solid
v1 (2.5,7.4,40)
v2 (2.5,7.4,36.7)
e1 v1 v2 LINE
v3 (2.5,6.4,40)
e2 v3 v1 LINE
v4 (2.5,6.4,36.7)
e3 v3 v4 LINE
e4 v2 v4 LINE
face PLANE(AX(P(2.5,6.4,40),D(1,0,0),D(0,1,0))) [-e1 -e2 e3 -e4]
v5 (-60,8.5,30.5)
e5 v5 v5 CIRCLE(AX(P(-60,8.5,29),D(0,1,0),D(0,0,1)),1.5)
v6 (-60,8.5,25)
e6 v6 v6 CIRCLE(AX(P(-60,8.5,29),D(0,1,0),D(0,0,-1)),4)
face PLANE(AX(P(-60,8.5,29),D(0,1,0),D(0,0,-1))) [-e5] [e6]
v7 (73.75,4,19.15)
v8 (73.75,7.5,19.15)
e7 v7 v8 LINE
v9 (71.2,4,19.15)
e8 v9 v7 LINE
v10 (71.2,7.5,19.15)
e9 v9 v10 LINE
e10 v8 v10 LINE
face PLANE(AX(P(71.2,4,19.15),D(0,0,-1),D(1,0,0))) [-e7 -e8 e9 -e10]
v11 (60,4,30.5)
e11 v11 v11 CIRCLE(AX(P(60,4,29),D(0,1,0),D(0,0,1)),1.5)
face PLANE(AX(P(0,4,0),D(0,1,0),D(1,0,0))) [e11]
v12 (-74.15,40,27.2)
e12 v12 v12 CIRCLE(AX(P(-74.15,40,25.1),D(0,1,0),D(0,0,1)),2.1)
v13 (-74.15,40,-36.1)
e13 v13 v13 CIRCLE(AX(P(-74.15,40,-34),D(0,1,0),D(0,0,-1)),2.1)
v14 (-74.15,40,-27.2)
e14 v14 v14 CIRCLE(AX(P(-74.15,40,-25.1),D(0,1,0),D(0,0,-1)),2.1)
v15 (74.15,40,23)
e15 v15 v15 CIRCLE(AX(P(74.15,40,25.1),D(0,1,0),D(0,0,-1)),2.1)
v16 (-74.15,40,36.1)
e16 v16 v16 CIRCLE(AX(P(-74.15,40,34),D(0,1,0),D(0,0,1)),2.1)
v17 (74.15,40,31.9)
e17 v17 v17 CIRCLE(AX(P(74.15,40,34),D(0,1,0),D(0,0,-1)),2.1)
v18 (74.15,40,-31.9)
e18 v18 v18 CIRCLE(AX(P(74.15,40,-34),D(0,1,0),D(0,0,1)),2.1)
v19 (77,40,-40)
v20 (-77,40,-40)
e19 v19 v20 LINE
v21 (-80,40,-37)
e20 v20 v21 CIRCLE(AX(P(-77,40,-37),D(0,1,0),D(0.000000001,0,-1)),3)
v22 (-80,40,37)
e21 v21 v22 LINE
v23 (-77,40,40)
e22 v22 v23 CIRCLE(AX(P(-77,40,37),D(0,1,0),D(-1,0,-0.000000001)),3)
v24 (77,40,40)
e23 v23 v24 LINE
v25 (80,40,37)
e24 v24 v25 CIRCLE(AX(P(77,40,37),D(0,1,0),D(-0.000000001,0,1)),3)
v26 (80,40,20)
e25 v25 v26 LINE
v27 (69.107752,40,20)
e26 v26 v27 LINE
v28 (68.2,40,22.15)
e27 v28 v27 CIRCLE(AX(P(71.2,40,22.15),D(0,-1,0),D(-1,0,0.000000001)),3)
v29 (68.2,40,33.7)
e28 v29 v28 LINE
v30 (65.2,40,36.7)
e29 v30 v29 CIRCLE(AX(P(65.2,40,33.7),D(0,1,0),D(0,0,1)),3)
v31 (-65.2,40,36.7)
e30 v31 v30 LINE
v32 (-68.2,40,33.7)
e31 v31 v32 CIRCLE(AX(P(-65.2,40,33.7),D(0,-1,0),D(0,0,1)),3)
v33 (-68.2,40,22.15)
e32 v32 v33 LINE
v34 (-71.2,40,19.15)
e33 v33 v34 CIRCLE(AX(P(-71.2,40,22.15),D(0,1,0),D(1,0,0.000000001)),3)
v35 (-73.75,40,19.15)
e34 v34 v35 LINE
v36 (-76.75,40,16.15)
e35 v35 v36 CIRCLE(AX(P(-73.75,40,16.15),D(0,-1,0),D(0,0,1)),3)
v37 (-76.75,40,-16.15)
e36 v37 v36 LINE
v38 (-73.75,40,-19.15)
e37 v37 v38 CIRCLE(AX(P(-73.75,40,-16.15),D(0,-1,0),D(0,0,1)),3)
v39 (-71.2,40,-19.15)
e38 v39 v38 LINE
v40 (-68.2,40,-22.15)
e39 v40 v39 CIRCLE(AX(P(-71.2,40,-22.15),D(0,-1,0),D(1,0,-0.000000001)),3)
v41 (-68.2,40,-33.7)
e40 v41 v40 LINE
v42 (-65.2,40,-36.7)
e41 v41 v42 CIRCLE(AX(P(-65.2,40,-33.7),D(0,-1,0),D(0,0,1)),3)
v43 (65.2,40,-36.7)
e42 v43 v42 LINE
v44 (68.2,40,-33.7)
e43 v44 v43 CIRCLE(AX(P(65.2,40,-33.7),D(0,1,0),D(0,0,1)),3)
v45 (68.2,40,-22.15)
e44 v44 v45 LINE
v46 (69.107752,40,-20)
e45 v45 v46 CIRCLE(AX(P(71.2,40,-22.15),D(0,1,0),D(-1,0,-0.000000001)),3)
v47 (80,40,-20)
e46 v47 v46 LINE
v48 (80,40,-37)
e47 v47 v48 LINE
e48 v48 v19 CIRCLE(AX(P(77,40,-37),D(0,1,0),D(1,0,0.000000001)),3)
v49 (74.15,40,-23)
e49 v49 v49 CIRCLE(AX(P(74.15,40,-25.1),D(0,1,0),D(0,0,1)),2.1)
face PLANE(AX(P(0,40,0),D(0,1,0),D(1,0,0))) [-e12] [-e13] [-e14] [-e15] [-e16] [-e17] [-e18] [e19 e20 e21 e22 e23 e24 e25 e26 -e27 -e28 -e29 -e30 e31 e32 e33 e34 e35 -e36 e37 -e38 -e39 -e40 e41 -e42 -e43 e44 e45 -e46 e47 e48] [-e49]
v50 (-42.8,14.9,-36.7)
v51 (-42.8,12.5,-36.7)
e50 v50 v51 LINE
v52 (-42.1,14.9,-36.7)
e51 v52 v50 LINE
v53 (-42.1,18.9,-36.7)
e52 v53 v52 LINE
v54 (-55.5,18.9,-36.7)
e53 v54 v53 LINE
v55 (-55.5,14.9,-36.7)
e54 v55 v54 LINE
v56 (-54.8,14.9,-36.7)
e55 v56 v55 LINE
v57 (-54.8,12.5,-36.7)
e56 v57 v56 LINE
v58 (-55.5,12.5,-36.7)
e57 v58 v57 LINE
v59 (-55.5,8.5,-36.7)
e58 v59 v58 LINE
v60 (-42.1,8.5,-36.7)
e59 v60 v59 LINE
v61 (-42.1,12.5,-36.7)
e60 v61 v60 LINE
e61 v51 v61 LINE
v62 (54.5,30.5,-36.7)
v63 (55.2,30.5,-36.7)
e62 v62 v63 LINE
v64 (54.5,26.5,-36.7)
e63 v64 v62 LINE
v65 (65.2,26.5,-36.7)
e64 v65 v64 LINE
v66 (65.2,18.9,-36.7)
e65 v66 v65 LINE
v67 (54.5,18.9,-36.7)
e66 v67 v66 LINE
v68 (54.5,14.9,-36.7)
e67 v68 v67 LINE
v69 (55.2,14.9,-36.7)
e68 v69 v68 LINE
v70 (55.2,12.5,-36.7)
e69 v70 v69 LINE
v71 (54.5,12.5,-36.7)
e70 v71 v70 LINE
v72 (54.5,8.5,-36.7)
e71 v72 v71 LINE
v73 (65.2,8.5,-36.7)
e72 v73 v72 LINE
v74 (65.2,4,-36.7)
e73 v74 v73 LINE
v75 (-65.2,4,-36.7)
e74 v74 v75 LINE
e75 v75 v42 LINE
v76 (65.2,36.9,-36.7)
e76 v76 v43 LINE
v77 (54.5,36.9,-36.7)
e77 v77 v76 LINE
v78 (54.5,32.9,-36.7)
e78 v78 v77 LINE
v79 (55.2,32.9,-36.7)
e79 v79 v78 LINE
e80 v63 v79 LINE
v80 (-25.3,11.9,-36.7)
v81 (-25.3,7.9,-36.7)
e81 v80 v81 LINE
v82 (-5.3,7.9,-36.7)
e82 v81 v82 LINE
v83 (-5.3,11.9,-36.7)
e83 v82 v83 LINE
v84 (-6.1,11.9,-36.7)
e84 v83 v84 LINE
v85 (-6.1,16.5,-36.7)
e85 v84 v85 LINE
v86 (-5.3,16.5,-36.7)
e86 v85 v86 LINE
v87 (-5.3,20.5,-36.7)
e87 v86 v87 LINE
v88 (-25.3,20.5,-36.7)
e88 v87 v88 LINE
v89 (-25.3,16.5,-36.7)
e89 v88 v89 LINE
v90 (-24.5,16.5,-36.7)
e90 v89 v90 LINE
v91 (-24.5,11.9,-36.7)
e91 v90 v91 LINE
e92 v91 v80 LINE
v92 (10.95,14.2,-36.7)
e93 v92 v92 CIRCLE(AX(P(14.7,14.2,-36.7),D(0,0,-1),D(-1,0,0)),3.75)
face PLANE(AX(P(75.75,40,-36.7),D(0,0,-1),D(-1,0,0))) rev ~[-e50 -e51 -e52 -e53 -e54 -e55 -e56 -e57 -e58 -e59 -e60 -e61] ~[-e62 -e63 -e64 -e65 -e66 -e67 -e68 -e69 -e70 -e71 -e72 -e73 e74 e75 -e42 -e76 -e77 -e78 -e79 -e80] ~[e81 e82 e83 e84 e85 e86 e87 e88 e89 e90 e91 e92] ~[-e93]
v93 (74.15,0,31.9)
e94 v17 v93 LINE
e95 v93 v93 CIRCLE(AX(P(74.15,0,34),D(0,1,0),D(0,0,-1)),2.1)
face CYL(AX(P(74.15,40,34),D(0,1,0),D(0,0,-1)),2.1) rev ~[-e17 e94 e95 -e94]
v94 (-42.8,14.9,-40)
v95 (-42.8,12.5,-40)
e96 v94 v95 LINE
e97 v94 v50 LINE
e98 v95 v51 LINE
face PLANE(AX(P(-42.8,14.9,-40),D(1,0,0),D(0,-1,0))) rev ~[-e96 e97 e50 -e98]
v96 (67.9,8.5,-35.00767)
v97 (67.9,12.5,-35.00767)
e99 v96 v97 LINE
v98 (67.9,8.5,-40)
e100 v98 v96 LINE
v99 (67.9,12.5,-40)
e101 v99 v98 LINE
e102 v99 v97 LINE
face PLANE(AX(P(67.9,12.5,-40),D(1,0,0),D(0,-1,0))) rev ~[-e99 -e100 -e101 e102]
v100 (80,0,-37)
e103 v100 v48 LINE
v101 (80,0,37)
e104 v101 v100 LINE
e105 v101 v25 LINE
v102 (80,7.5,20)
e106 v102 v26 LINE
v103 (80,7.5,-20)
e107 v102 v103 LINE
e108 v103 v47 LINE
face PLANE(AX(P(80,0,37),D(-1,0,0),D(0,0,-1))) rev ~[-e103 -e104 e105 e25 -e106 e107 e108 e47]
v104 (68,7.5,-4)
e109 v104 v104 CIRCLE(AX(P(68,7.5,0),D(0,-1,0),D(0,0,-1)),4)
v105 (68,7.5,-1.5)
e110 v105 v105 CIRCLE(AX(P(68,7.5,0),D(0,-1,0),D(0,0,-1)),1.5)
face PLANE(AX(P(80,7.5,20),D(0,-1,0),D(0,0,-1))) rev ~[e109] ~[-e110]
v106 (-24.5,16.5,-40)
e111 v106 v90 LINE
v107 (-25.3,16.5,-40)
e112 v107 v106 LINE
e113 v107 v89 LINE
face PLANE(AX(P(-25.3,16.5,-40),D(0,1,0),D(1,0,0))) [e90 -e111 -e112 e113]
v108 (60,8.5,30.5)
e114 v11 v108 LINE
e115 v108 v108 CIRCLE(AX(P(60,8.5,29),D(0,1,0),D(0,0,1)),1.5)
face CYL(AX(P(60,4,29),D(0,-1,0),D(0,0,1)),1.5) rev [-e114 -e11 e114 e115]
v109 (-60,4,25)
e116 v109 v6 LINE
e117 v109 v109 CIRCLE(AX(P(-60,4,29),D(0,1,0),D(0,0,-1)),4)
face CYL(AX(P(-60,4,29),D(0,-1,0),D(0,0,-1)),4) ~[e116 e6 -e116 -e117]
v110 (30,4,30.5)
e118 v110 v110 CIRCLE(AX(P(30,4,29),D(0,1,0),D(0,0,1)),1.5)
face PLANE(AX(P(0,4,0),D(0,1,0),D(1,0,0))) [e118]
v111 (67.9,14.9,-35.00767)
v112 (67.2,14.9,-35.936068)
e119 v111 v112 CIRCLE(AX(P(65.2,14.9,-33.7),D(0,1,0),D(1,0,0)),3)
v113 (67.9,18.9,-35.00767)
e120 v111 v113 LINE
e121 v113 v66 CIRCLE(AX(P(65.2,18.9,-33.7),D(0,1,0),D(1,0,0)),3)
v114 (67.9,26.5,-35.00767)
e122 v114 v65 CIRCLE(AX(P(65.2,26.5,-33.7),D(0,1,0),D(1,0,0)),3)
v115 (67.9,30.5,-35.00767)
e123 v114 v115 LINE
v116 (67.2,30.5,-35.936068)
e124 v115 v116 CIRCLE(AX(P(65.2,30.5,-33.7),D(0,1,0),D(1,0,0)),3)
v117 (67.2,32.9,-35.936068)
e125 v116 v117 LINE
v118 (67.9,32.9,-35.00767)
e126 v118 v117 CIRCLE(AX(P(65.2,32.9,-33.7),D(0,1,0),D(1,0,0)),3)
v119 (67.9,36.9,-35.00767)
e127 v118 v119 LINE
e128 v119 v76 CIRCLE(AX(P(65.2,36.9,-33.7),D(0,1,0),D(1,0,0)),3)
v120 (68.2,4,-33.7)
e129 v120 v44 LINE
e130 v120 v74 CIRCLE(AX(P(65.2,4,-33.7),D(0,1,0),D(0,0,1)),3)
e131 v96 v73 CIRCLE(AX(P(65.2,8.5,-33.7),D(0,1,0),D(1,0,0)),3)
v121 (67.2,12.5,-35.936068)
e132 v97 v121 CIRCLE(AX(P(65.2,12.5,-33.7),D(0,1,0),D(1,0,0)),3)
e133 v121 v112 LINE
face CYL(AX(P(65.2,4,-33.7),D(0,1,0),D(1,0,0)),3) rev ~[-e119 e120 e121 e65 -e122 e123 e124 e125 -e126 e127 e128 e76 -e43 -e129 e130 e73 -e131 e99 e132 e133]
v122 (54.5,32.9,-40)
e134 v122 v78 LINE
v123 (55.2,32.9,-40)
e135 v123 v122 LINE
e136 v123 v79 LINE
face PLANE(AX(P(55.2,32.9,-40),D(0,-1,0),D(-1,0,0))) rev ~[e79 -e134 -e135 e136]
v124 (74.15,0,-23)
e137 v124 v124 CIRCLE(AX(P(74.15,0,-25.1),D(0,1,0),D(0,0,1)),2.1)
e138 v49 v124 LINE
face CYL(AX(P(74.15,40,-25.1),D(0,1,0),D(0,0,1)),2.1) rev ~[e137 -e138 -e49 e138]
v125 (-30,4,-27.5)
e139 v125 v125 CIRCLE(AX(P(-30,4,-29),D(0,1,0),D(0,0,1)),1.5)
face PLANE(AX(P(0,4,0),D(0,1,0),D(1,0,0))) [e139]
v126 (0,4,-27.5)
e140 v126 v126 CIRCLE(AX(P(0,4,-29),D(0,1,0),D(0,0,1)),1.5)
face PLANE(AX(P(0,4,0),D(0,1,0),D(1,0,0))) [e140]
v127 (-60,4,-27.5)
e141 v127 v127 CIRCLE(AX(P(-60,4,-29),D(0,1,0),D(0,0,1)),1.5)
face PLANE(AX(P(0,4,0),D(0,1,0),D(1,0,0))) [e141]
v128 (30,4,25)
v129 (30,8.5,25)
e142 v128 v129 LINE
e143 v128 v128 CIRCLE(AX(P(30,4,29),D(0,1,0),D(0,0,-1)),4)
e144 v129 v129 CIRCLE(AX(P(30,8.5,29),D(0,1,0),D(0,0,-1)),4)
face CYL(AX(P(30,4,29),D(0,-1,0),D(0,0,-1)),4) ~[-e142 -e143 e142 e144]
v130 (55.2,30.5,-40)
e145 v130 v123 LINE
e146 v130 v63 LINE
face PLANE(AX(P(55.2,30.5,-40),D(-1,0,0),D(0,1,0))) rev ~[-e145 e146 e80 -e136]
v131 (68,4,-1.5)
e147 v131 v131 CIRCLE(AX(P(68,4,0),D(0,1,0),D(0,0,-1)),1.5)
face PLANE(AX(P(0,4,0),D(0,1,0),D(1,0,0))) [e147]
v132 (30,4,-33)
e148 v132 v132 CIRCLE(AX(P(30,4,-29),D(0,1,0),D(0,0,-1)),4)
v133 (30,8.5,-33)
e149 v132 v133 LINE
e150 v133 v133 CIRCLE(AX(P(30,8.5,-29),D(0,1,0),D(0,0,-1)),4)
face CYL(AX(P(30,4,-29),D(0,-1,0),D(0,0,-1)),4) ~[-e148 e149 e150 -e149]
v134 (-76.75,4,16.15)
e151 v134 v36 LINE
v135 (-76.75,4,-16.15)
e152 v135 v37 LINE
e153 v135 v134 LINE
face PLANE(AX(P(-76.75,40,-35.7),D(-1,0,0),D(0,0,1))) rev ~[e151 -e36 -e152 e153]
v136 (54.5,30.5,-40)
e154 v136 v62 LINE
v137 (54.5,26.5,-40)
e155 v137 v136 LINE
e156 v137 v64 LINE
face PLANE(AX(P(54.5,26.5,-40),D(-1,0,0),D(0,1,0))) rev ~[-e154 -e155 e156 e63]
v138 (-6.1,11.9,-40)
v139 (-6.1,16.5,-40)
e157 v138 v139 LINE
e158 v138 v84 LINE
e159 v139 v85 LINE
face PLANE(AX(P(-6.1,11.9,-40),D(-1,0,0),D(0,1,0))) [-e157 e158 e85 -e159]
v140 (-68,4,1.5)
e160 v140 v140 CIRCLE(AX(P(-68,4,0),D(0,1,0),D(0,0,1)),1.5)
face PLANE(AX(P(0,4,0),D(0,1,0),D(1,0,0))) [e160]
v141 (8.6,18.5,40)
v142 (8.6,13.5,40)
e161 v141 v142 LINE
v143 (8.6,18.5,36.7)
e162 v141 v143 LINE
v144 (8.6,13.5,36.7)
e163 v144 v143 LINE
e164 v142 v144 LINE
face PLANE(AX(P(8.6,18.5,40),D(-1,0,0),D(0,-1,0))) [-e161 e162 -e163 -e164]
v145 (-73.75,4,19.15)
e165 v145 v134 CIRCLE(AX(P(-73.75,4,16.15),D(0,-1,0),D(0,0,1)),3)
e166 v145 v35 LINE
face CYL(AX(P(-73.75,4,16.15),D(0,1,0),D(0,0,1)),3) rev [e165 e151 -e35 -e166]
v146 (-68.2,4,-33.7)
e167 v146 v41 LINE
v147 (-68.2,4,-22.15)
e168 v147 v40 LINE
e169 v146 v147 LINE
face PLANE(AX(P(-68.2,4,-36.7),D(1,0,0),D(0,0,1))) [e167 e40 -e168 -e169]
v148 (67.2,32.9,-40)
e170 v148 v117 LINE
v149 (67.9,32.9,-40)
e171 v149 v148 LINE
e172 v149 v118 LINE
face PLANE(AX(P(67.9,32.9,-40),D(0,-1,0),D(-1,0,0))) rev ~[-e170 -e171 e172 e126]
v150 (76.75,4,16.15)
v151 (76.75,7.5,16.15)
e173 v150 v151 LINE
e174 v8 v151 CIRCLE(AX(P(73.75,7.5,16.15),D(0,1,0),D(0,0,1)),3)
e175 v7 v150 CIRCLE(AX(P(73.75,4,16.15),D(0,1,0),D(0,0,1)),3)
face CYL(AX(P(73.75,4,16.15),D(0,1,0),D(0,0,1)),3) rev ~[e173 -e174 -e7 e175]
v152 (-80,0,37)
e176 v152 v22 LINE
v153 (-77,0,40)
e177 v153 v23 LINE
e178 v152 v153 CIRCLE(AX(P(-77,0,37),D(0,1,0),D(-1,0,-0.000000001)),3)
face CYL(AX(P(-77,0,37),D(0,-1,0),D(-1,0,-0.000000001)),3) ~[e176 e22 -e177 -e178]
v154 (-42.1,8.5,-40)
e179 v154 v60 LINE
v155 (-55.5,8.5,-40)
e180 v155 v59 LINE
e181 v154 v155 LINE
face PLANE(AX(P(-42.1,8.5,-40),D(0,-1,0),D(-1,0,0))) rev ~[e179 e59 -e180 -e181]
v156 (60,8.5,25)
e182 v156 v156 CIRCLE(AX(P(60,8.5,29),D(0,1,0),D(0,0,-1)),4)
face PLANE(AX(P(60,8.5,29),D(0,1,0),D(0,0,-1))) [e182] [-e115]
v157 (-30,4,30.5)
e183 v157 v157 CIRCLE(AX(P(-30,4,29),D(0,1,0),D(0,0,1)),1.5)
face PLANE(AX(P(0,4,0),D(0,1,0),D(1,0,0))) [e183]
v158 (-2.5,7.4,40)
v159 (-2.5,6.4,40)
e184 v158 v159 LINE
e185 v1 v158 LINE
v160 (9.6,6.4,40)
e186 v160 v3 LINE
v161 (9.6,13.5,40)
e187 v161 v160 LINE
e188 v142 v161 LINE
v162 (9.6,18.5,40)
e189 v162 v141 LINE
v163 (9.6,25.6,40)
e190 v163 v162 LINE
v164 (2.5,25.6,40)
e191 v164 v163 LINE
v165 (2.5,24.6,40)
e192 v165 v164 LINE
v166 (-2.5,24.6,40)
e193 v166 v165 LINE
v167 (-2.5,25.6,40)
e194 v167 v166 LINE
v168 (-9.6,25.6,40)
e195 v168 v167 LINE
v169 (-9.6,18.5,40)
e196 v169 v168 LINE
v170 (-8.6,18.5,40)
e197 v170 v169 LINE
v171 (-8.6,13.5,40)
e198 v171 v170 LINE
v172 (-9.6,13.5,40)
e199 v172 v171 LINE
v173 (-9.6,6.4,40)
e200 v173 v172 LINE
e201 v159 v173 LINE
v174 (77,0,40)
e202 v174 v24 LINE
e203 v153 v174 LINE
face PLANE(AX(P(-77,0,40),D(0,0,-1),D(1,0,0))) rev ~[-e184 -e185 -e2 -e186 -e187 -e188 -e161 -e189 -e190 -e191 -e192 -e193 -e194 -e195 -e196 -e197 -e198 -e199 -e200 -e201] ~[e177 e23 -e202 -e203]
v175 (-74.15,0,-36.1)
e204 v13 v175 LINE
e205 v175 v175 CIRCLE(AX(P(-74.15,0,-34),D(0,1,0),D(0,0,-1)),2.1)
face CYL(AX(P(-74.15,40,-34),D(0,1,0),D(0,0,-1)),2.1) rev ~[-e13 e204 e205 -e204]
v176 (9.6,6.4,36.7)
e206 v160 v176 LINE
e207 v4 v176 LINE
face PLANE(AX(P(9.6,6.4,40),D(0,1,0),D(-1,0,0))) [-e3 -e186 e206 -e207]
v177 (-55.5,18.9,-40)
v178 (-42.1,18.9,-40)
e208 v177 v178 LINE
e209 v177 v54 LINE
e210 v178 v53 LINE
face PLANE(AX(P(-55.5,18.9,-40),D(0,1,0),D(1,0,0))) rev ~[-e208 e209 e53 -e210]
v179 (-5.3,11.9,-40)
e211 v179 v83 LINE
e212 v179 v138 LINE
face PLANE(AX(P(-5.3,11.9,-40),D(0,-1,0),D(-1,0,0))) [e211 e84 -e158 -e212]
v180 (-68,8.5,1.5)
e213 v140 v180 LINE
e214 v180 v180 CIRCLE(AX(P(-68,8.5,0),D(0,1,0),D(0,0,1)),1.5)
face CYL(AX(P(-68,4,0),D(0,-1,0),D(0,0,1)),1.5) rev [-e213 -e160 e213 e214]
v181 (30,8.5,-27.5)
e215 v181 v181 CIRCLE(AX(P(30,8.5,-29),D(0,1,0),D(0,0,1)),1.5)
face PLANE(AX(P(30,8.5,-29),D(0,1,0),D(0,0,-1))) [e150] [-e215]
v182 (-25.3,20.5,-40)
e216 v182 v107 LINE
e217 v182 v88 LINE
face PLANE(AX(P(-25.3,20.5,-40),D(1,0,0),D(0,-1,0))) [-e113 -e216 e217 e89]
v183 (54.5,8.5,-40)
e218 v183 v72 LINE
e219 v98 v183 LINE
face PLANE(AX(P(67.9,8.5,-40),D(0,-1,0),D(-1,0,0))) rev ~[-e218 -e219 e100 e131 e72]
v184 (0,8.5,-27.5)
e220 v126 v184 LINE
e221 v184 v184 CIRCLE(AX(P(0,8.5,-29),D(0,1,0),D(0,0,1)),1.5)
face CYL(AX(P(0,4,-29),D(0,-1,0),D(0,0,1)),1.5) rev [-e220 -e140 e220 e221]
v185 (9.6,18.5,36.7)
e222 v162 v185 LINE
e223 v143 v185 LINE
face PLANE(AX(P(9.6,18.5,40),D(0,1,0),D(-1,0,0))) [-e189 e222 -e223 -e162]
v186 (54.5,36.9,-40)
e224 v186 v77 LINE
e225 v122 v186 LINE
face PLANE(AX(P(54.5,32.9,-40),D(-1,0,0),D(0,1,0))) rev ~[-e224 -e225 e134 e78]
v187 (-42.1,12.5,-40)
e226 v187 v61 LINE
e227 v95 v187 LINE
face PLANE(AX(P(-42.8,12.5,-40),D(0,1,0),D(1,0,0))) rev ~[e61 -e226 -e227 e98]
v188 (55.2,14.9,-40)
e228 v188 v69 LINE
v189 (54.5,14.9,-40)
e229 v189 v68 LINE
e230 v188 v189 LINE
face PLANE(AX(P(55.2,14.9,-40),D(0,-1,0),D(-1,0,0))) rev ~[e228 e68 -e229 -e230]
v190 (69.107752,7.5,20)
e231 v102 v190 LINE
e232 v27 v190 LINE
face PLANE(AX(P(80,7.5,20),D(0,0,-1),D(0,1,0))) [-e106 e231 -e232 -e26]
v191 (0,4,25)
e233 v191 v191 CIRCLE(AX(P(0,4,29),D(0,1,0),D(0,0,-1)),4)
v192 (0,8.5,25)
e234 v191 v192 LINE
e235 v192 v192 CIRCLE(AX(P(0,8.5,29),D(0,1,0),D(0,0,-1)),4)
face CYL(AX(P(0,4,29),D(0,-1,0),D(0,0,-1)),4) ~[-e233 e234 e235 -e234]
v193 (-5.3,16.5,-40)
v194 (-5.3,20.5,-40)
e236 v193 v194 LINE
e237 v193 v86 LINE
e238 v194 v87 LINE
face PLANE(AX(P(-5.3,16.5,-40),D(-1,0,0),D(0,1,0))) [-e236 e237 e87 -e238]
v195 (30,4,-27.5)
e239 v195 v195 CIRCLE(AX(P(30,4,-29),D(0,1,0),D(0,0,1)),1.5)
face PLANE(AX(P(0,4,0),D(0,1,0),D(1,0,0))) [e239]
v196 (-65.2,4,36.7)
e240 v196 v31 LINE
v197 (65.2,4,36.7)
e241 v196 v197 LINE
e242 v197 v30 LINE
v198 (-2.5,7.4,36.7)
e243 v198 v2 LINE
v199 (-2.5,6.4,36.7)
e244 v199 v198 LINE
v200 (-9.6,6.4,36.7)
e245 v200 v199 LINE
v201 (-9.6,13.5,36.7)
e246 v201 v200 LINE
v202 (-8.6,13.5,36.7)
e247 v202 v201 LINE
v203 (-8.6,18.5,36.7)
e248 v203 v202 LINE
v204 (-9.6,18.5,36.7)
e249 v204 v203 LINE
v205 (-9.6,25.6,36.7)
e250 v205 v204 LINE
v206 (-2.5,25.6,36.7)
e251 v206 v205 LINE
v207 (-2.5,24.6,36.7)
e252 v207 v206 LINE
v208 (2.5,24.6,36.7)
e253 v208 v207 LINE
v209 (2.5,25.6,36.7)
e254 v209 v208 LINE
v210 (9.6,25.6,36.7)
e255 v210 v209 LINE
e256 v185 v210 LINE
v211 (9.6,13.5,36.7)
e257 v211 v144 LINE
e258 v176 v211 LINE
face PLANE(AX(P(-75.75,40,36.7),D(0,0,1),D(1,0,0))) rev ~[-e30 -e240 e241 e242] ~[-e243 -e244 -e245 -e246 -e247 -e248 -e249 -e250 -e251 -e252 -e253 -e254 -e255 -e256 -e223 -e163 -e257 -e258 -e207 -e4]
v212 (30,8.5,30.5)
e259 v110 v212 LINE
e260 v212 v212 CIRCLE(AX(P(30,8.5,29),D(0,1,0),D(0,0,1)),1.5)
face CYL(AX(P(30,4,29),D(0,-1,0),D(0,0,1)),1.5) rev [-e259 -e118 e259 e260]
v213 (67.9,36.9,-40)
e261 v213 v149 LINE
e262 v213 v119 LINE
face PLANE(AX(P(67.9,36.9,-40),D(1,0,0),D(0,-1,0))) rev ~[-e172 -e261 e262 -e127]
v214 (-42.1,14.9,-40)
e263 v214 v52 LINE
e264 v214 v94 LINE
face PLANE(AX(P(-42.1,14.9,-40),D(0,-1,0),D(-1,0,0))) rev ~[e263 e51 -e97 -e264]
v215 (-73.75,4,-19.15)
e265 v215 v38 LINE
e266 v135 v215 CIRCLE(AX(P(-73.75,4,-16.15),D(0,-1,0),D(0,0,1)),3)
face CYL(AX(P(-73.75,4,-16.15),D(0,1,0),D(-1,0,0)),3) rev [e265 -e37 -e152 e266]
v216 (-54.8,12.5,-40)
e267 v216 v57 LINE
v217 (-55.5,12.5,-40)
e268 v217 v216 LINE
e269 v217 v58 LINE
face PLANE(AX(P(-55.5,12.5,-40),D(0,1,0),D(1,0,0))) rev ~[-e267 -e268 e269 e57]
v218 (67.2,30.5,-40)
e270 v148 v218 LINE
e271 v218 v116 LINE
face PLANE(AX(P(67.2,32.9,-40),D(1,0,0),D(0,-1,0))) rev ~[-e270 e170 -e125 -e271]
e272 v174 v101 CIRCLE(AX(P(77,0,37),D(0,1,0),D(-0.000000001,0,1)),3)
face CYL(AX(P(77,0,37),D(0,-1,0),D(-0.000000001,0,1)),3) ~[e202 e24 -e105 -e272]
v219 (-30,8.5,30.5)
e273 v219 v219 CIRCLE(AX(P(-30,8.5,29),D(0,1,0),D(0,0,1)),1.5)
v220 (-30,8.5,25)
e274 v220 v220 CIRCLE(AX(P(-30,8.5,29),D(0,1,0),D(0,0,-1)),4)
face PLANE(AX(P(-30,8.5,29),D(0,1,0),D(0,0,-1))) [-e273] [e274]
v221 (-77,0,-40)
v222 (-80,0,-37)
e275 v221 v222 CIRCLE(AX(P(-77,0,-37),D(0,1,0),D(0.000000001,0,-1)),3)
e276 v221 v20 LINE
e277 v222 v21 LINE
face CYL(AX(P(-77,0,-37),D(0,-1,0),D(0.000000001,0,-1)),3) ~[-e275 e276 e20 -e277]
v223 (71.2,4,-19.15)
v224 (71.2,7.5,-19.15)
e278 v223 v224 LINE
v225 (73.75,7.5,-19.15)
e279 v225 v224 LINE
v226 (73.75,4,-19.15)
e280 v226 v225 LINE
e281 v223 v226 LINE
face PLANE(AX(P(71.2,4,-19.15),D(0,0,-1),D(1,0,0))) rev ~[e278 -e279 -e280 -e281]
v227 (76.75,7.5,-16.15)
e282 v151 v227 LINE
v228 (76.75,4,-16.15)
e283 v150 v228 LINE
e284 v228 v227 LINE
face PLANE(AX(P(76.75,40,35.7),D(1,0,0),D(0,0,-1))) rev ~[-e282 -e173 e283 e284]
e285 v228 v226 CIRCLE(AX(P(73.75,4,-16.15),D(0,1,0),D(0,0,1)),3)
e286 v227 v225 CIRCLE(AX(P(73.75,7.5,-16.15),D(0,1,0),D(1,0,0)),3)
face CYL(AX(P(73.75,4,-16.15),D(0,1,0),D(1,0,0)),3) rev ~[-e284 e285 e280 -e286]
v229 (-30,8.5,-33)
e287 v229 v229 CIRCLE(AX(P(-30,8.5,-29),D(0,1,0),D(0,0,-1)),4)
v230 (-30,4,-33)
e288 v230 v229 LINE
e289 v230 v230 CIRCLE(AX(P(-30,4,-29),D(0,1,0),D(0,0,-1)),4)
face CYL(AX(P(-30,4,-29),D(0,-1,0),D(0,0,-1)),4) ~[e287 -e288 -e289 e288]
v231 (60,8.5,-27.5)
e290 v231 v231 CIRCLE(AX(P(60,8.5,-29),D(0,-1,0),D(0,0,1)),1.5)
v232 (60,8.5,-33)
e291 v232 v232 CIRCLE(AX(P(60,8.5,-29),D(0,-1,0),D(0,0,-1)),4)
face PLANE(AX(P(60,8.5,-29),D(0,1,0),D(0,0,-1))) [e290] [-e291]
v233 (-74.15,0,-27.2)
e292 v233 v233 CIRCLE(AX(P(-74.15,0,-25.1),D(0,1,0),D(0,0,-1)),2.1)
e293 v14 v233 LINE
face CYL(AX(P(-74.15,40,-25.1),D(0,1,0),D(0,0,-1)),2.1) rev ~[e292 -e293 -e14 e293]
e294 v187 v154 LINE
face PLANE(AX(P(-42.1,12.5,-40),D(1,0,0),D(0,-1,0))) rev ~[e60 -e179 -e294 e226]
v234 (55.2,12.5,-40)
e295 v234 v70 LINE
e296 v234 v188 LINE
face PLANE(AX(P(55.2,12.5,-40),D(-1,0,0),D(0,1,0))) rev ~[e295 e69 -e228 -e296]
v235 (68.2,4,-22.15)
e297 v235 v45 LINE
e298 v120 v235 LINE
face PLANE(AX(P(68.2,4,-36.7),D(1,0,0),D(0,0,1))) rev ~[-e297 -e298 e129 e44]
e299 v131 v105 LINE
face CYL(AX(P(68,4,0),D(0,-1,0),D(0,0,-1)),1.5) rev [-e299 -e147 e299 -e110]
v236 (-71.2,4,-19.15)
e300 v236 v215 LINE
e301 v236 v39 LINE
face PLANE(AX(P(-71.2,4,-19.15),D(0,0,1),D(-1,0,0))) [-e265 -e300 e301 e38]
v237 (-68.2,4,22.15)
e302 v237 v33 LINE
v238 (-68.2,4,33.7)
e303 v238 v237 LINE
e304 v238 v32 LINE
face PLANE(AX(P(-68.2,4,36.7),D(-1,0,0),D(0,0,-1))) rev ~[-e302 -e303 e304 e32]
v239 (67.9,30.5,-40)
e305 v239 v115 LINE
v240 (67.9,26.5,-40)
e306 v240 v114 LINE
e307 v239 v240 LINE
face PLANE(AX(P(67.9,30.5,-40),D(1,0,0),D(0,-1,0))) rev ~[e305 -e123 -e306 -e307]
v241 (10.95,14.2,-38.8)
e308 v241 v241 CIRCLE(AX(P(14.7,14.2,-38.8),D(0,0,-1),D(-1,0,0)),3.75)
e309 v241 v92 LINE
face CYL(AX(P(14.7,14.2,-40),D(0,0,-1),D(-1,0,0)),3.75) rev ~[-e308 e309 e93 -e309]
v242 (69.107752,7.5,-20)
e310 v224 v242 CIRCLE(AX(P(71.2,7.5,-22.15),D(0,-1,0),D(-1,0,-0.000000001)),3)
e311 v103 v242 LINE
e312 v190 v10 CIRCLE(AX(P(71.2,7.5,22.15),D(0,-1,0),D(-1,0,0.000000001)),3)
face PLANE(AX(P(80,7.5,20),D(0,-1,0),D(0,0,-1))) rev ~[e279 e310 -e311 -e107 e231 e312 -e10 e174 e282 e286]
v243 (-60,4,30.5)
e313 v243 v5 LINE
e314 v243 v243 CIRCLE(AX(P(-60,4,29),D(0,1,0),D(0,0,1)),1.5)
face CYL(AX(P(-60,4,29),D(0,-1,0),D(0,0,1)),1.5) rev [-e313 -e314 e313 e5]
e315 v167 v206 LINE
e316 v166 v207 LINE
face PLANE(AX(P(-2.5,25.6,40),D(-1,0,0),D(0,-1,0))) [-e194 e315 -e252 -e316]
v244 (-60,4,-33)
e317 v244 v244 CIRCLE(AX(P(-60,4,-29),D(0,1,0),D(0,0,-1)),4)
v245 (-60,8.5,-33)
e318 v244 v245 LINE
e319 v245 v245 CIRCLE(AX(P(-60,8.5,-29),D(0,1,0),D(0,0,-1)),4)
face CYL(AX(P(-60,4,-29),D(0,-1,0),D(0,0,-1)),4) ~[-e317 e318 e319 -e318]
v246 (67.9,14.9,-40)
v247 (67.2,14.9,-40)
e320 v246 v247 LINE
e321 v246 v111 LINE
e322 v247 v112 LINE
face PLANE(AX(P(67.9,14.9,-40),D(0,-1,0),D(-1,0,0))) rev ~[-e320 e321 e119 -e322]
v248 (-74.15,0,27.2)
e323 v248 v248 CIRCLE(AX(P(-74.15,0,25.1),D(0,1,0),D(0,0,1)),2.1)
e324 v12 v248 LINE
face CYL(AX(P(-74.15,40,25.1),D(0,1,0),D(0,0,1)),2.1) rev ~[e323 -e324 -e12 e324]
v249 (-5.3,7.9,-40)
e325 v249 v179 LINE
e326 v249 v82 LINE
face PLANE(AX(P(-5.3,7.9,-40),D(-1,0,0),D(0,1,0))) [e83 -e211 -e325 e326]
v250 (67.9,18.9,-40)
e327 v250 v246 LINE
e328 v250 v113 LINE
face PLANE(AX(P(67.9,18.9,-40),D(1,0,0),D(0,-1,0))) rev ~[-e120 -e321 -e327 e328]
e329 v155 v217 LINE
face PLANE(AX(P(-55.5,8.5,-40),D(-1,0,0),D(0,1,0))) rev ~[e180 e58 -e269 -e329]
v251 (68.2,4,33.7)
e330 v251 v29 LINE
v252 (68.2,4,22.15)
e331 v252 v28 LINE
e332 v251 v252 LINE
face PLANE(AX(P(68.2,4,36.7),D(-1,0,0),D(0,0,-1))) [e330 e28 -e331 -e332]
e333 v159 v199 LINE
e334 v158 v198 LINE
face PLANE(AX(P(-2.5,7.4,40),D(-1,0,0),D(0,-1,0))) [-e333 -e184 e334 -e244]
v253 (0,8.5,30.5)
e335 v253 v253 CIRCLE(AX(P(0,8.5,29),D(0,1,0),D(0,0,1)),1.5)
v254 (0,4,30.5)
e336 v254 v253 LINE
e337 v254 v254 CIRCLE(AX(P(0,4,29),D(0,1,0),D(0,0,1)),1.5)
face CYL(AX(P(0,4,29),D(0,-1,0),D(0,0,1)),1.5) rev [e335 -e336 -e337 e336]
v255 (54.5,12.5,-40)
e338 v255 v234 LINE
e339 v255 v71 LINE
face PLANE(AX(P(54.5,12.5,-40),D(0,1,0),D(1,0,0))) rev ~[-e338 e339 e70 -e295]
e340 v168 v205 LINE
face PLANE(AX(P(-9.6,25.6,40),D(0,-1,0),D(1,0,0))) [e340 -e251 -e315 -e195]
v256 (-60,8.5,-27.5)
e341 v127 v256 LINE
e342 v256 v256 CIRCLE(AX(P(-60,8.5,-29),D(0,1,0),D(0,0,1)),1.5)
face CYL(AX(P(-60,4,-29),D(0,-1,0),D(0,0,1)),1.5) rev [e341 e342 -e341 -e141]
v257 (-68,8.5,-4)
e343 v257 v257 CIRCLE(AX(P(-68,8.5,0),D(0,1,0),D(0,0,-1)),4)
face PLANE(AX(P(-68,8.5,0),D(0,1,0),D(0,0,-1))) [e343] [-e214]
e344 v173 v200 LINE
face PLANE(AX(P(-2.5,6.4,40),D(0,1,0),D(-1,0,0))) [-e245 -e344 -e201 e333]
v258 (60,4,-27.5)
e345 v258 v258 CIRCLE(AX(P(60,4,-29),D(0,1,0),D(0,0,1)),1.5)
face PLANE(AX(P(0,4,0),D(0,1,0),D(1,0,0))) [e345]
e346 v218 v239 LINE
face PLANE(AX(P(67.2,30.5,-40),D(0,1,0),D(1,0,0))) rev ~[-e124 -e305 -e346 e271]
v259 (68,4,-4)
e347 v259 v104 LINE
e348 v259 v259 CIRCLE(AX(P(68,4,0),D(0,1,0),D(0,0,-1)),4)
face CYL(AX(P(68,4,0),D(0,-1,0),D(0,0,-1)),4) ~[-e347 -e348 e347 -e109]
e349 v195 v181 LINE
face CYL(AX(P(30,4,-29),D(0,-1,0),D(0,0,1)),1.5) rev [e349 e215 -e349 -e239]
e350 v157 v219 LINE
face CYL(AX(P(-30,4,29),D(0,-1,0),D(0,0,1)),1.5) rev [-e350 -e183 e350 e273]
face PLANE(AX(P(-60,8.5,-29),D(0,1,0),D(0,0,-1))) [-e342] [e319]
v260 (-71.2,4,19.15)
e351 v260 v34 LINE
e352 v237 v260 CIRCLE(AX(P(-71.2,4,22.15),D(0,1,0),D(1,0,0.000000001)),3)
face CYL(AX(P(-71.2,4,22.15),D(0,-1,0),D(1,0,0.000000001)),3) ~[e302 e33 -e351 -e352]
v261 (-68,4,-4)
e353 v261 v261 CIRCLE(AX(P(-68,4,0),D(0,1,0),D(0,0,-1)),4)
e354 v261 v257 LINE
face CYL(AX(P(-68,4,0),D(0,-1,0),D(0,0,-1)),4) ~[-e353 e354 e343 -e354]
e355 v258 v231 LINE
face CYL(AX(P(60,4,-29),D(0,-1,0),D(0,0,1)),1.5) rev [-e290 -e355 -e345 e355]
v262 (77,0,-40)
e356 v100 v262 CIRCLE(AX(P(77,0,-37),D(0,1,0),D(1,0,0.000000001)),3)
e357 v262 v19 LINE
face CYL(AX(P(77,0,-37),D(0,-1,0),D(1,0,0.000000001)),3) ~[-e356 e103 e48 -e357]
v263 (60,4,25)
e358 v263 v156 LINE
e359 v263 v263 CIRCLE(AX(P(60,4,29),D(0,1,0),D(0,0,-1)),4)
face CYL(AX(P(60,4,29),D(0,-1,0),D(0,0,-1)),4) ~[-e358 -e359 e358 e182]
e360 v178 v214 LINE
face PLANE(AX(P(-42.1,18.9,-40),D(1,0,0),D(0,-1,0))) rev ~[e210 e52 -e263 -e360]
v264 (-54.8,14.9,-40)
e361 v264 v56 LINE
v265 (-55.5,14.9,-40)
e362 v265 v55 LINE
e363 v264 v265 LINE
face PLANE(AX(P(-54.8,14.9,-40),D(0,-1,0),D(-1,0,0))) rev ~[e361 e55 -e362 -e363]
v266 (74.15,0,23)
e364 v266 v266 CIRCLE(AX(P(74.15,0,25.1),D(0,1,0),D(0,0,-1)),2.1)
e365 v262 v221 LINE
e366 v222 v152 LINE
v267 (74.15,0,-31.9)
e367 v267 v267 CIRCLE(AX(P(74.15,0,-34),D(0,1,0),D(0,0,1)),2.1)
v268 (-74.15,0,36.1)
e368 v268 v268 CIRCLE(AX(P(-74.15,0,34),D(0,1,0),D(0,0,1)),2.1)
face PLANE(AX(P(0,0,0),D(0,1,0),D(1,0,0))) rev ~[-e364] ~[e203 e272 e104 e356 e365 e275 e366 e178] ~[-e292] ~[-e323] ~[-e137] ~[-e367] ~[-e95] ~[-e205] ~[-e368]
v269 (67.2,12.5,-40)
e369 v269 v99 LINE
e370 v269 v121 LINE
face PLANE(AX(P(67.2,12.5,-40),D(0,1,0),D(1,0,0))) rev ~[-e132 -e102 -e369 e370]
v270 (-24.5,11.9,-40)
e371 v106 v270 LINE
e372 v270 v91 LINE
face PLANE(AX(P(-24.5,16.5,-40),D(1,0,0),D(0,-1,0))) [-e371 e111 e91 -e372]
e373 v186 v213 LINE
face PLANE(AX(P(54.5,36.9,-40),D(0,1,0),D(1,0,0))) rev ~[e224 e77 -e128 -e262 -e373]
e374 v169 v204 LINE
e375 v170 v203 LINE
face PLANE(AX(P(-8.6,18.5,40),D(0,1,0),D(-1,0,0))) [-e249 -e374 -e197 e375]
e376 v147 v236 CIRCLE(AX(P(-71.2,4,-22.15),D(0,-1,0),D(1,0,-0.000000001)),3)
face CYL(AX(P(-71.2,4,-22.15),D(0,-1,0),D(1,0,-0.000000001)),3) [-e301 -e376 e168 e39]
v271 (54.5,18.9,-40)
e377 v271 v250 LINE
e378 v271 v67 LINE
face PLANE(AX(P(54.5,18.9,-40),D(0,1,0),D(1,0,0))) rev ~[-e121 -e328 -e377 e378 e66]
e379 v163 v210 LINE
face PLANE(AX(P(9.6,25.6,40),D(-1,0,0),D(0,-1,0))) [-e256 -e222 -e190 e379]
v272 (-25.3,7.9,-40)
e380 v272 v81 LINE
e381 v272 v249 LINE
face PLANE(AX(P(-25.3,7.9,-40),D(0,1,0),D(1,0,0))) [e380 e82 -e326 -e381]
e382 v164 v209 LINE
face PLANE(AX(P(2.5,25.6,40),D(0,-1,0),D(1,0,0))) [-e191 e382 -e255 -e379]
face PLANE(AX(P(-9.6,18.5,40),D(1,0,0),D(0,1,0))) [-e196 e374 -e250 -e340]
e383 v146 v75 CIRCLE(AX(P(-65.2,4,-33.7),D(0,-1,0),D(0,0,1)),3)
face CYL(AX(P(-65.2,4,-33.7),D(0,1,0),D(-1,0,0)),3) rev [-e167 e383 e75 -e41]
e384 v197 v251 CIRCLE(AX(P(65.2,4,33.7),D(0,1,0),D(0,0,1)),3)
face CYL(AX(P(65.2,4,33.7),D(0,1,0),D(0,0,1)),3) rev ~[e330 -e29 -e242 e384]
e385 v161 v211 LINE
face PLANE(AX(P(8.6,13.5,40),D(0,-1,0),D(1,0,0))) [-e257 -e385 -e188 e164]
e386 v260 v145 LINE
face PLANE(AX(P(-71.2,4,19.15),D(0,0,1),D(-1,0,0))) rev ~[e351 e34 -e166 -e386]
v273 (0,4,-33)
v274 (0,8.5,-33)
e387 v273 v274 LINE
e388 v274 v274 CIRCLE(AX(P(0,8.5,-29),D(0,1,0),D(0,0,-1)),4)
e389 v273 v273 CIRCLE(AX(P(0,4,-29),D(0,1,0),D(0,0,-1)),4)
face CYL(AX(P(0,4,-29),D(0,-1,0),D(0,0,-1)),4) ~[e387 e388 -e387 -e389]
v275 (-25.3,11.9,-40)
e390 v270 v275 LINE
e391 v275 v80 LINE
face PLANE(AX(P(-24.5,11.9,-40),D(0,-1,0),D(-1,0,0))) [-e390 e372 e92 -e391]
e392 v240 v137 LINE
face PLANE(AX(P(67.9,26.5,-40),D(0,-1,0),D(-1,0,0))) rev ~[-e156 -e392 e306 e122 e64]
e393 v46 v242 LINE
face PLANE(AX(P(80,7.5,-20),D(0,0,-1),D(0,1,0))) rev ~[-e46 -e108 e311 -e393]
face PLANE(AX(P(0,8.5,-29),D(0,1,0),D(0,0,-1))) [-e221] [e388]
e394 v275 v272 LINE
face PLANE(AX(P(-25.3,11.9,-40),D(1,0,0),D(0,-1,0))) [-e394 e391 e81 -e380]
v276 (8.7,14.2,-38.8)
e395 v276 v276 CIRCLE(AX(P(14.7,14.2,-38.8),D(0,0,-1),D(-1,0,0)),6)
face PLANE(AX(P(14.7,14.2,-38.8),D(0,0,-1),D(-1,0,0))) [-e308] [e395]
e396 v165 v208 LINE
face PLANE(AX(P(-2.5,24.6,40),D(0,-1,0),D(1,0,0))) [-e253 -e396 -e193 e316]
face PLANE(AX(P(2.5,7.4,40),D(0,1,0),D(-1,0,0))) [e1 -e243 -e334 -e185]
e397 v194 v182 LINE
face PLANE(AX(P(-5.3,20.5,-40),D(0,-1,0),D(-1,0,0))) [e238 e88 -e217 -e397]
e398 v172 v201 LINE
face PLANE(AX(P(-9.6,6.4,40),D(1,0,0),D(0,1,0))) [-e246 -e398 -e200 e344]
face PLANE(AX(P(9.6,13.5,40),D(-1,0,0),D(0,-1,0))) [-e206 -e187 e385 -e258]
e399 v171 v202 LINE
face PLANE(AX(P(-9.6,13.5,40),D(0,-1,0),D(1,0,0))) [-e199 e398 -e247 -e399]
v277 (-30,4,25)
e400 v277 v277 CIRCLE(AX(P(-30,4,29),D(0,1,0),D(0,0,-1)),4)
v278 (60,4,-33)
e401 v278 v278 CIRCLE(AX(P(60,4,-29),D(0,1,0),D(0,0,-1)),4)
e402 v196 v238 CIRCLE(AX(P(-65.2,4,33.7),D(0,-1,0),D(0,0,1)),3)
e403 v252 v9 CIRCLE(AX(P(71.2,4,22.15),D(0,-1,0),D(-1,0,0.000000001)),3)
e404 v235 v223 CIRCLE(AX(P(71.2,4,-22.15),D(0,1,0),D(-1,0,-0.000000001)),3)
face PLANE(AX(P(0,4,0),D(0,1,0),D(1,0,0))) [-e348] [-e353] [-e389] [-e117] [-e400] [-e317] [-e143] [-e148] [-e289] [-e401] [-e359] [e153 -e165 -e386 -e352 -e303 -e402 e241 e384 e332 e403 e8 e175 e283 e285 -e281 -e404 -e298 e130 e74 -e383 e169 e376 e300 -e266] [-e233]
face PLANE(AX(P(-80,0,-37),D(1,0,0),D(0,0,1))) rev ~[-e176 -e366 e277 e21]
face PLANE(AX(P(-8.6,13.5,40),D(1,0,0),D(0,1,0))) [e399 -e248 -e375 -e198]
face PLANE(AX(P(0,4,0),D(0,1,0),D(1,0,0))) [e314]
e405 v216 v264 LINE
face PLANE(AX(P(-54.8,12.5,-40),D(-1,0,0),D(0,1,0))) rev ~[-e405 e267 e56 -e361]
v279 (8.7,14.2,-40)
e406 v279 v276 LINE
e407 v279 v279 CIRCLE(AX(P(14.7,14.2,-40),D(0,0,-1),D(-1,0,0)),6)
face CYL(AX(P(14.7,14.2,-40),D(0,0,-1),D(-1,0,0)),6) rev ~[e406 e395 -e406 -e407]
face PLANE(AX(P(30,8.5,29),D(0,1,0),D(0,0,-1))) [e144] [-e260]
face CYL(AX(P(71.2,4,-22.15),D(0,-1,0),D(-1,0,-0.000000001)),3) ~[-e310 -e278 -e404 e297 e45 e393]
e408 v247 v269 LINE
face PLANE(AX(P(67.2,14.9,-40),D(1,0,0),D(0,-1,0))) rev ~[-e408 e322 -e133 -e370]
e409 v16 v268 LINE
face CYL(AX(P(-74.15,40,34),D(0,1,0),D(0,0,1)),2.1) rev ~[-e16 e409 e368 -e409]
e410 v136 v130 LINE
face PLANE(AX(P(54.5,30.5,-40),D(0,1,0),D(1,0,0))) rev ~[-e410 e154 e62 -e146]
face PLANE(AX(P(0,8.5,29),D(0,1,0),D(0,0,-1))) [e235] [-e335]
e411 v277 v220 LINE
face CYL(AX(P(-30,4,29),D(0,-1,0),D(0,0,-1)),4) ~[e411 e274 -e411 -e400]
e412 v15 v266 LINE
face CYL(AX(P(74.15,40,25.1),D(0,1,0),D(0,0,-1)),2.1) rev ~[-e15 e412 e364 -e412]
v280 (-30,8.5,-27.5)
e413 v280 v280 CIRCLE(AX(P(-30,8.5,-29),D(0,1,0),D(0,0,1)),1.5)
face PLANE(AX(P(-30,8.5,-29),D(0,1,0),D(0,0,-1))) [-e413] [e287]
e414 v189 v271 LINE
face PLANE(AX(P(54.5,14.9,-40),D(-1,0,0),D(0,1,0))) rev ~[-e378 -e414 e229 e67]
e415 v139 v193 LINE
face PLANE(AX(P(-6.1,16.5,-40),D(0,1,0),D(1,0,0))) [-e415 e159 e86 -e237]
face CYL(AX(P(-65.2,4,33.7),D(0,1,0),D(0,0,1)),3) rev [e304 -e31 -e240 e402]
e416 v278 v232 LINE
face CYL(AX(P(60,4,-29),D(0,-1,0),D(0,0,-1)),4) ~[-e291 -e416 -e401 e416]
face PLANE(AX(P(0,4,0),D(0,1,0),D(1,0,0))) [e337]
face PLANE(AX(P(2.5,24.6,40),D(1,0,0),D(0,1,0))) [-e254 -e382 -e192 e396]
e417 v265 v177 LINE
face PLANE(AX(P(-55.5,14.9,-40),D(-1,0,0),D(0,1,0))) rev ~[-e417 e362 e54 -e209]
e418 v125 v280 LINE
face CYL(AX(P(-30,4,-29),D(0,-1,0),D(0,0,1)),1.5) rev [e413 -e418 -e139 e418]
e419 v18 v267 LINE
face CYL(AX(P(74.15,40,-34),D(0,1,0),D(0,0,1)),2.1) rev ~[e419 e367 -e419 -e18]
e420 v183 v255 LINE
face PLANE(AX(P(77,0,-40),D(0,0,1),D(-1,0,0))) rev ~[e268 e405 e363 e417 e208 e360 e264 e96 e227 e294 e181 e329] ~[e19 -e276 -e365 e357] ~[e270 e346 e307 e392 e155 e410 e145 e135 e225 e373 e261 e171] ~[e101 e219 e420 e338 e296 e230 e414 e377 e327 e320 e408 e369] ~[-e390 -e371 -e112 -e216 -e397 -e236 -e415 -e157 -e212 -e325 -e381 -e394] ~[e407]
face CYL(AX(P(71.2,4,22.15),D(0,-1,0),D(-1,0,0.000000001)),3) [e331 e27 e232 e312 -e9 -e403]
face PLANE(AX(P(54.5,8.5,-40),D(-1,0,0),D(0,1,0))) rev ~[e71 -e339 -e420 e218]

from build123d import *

# Parameters (mm, degrees)
EXTRUDE_1_DEPTH            = 40
CUT_EXTRUDE_1_DEPTH        = 36
EXTRUDE_2_DEPTH            = 36
SKETCH_4_R                 = 2.1
CUT_EXTRUDE_2_DEPTH        = 98.979589711
SKETCH_5_R                 = 4
SKETCH_5_R_2               = 1.5
EXTRUDE_3_DEPTH            = 4.5
PATTERN_LINEAR_1_COUNT     = 3
PATTERN_LINEAR_1_PITCH     = 30
PATTERN_LINEAR_1_COL_COUNT = 3
PATTERN_LINEAR_1_COL_PITCH = 30
SKETCH_6_R                 = 4
SKETCH_6_R_2               = 1.5
EXTRUDE_4_DEPTH            = 4.5
FILLET_1_R                 = 3
SKETCH_7_W                 = 40
SKETCH_7_H                 = 40
CUT_EXTRUDE_3_DEPTH        = 25
CUT_EXTRUDE_4_DEPTH        = 10
SKETCH_9_R                 = 3.75
CUT_EXTRUDE_5_DEPTH        = 3.3
SKETCH_10_R                = 6
CUT_EXTRUDE_6_DEPTH        = 1.2
CUT_EXTRUDE_7_REACH        = 122


with BuildPart() as part:
    # Эскиз1 → Бобышка-Вытянуть1 (new body)
    with BuildSketch(Plane(origin=(0, 0, 0), x_dir=(1, 0, 0), z_dir=(0, 1, 0))):
        with BuildLine():
            Line((-77, -40), (77, -40))
            ThreePointArc((77, -40), (79.121320344, -39.121320344), (80, -37))
            Line((80, -37), (80, 37))
            ThreePointArc((80, 37), (79.121320344, 39.121320344), (77, 40))
            Line((77, 40), (-77, 40))
            ThreePointArc((-77, 40), (-79.121320344, 39.121320344), (-80, 37))
            Line((-80, 37), (-80, -37))
            ThreePointArc((-80, -37), (-79.121320344, -39.121320344), (-77, -40))
        make_face()
    extrude(amount=EXTRUDE_1_DEPTH)

    # Эскиз2 → Вырез-Вытянуть1 (cut)
    with BuildSketch(Plane(origin=(0, 40, 0), x_dir=(1, 0, 0), z_dir=(0, 1, 0))):
        with BuildLine():
            Line((-75.75, -36.7), (75.75, -36.7))
            ThreePointArc((75.75, -36.7), (76.457106781, -36.407106781), (76.75, -35.7))
            Line((76.75, -35.7), (76.75, 35.7))
            ThreePointArc((76.75, 35.7), (76.457106781, 36.407106781), (75.75, 36.7))
            Line((75.75, 36.7), (-75.75, 36.7))
            ThreePointArc((-75.75, 36.7), (-76.457106781, 36.407106781), (-76.75, 35.7))
            Line((-76.75, 35.7), (-76.75, -35.7))
            ThreePointArc((-76.75, -35.7), (-76.457106781, -36.407106781), (-75.75, -36.7))
        make_face()
    extrude(amount=-CUT_EXTRUDE_1_DEPTH, mode=Mode.SUBTRACT)

    # Эскиз3 → Бобышка-Вытянуть2 (add)
    with BuildSketch(Plane(origin=(0, 4, 0), x_dir=(1, 0, 0), z_dir=(0, 1, 0))):
        with BuildLine():
            Line((-76.75, -36.7), (-68.2, -36.7))
            Line((-68.2, -36.7), (-68.2, -22.15))
            ThreePointArc((-68.2, -22.15), (-69.078679656, -20.028679656), (-71.2, -19.15))
            Line((-71.2, -19.15), (-76.75, -19.15))
            Line((-76.75, -19.15), (-76.75, -36.7))
        make_face()
        with BuildLine():
            Line((-68.2, 36.7), (-68.2, 22.15))
            ThreePointArc((-68.2, 22.15), (-69.078679656, 20.028679656), (-71.2, 19.15))
            Line((-71.2, 19.15), (-76.75, 19.15))
            Line((-76.75, 19.15), (-76.75, 36.7))
            Line((-76.75, 36.7), (-68.2, 36.7))
        make_face()
        with BuildLine():
            Line((76.75, 36.7), (68.2, 36.7))
            Line((68.2, 36.7), (68.2, 22.15))
            ThreePointArc((68.2, 22.15), (69.078679656, 20.028679656), (71.2, 19.15))
            Line((71.2, 19.15), (76.75, 19.15))
            Line((76.75, 19.15), (76.75, 36.7))
        make_face()
        with BuildLine():
            Line((68.2, -36.7), (68.2, -22.15))
            ThreePointArc((68.2, -22.15), (69.078679656, -20.028679656), (71.2, -19.15))
            Line((71.2, -19.15), (76.75, -19.15))
            Line((76.75, -19.15), (76.75, -36.7))
            Line((76.75, -36.7), (68.2, -36.7))
        make_face()
    extrude(amount=EXTRUDE_2_DEPTH)

    # Эскиз4 → Вырез-Вытянуть2 (cut, through all)
    with BuildSketch(Plane(origin=(0, 40, 0), x_dir=(1, 0, 0), z_dir=(0, 1, 0))):
        with Locations(Location((-74.15, -34, 0), (0, 0, 270))):
            Circle(SKETCH_4_R)
        with Locations(Location((-74.15, 34, 0), (0, 0, 90))):
            Circle(SKETCH_4_R)
        with Locations(Location((74.15, 34, 0), (0, 0, 270))):
            Circle(SKETCH_4_R)
        with Locations(Location((74.15, -34, 0), (0, 0, 90))):
            Circle(SKETCH_4_R)
        with Locations(Location((-74.15, -25.1, 0), (0, 0, 270))):
            Circle(SKETCH_4_R)
        with Locations(Location((-74.15, 25.1, 0), (0, 0, 90))):
            Circle(SKETCH_4_R)
        with Locations(Location((74.15, 25.1, 0), (0, 0, 270))):
            Circle(SKETCH_4_R)
        with Locations(Location((74.15, -25.1, 0), (0, 0, 90))):
            Circle(SKETCH_4_R)
    extrude(amount=-CUT_EXTRUDE_2_DEPTH, mode=Mode.SUBTRACT)

    # Эскиз5 → Бобышка-Вытянуть3 (add)
    # profile 1 of 2: a face of its own
    with BuildSketch(Plane(origin=(0, 4, 0), x_dir=(1, 0, 0), z_dir=(0, 1, 0))):
        with Locations(Location((0, -29, 0), (0, 0, 90))):
            Circle(SKETCH_5_R)
        with Locations(Location((0, -29, 0), (0, 0, 270))):
            Circle(SKETCH_5_R_2, mode=Mode.SUBTRACT)
    # profile 2 of 2: a face of its own
    with BuildSketch(Plane(origin=(0, 4, 0), x_dir=(1, 0, 0), z_dir=(0, 1, 0))):
        with Locations(Location((0, 29, 0), (0, 0, 90))):
            Circle(SKETCH_5_R)
        with Locations(Location((0, 29, 0), (0, 0, 270))):
            Circle(SKETCH_5_R_2, mode=Mode.SUBTRACT)
    extrude_3 = extrude(amount=EXTRUDE_3_DEPTH)

    # Линейный массив1: Бобышка-Вытянуть3 ×3
    with Locations(*[(i * PATTERN_LINEAR_1_PITCH, 0, 0) for i in range(1, PATTERN_LINEAR_1_COUNT)]):
        add(extrude_3)

    # Линейный массив1 col: Бобышка-Вытянуть3 ×3
    with Locations(*[(-i * PATTERN_LINEAR_1_COL_PITCH, 0, 0) for i in range(1, PATTERN_LINEAR_1_COL_COUNT)]):
        add(extrude_3)

    # Эскиз6 → Бобышка-Вытянуть4 (add)
    # profile 1 of 2: a face of its own
    with BuildSketch(Plane(origin=(0, 4, 0), x_dir=(1, 0, 0), z_dir=(0, 1, 0))):
        with Locations(Location((-68, 0, 0), (0, 0, 90))):
            Circle(SKETCH_6_R)
        with Locations(Location((-68, 0, 0), (0, 0, 270))):
            Circle(SKETCH_6_R_2, mode=Mode.SUBTRACT)
    # profile 2 of 2: a face of its own
    with BuildSketch(Plane(origin=(0, 4, 0), x_dir=(1, 0, 0), z_dir=(0, 1, 0))):
        with Locations(Location((68, 0, 0), (0, 0, 90))):
            Circle(SKETCH_6_R)
        with Locations(Location((68, 0, 0), (0, 0, 90))):
            Circle(SKETCH_6_R_2, mode=Mode.SUBTRACT)
    extrude(amount=EXTRUDE_4_DEPTH)

    # Скругление1
    fillet_1_edges = [part.edges().sort_by_distance(p)[0] for p in [
        (68.2, 22, 36.7),
        (76.75, 22, 19.15),
        (-76.75, 22, 19.15),
        (-68.2, 22, 36.7),
        (-68.2, 22, -36.7),
        (-76.75, 22, -19.15),
        (76.75, 22, -19.15),
        (68.2, 22, -36.7),
    ]]
    fillet(fillet_1_edges, radius=FILLET_1_R)

    # Эскиз7 → Вырез-Вытянуть3 (cut)
    with BuildSketch(Plane(origin=(80, 0, 0), x_dir=(0, 0, -1), z_dir=(1, 0, 0))):
        with Locations((0, 27.5)):
            Rectangle(SKETCH_7_W, SKETCH_7_H)
    extrude(amount=-CUT_EXTRUDE_3_DEPTH, mode=Mode.SUBTRACT)

    # Эскиз8 → Вырез-Вытянуть4 (cut)
    with BuildSketch(Plane(origin=(0, 0, -40), x_dir=(-1, 0, 0), z_dir=(0, 0, -1))):
        Polygon((-54.5, 18.9), (-67.9, 18.9), (-67.9, 14.9), (-67.2, 14.9), (-67.2, 12.5), (-67.9, 12.5), (-67.9, 8.5), (-54.5, 8.5), (-54.5, 12.5), (-55.2, 12.5), (-55.2, 14.9), (-54.5, 14.9), align=None)
        Polygon((55.5, 18.9), (42.1, 18.9), (42.1, 14.9), (42.8, 14.9), (42.8, 12.5), (42.1, 12.5), (42.1, 8.5), (55.5, 8.5), (55.5, 12.5), (54.8, 12.5), (54.8, 14.9), (55.5, 14.9), align=None)
        Polygon((-54.5, 36.9), (-67.9, 36.9), (-67.9, 32.9), (-67.2, 32.9), (-67.2, 30.5), (-67.9, 30.5), (-67.9, 26.5), (-54.5, 26.5), (-54.5, 30.5), (-55.2, 30.5), (-55.2, 32.9), (-54.5, 32.9), align=None)
    extrude(amount=-CUT_EXTRUDE_4_DEPTH, mode=Mode.SUBTRACT)

    # Эскиз9 → Вырез-Вытянуть5 (cut)
    with BuildSketch(Plane(origin=(0, 0, -40), x_dir=(-1, 0, 0), z_dir=(0, 0, -1))):
        with Locations((-14.7, 14.2)):
            Circle(SKETCH_9_R)
        Polygon((5.3, 20.5), (25.3, 20.5), (25.3, 16.5), (24.5, 16.5), (24.5, 11.9), (25.3, 11.9), (25.3, 7.9), (5.3, 7.9), (5.3, 11.9), (6.1, 11.9), (6.1, 16.5), (5.3, 16.5), align=None)
    extrude(amount=-CUT_EXTRUDE_5_DEPTH, mode=Mode.SUBTRACT)

    # Эскиз10 → Вырез-Вытянуть6 (cut)
    with BuildSketch(Plane(origin=(0, 0, -40), x_dir=(-1, 0, 0), z_dir=(0, 0, -1))):
        with Locations((-14.7, 14.2)):
            Circle(SKETCH_10_R)
    extrude(amount=-CUT_EXTRUDE_6_DEPTH, mode=Mode.SUBTRACT)

    # Эскиз11 → Вырез-Вытянуть7 (cut, up to next)
    with BuildSketch(Plane.XY.offset(40), mode=Mode.PRIVATE) as cut_extrude_7_sk1:
        Polygon((-9.6, 25.6), (-2.5, 25.6), (-2.5, 24.6), (2.5, 24.6), (2.5, 25.6), (9.6, 25.6), (9.6, 18.5), (8.6, 18.5), (8.6, 13.5), (9.6, 13.5), (9.6, 6.4), (2.5, 6.4), (2.5, 7.4), (-2.5, 7.4), (-2.5, 6.4), (-9.6, 6.4), (-9.6, 13.5), (-8.6, 13.5), (-8.6, 18.5), (-9.6, 18.5), align=None)
    cut_extrude_7_tool1 = extrude(cut_extrude_7_sk1.sketch, amount=-CUT_EXTRUDE_7_REACH, mode=Mode.PRIVATE) & part.part
    add(cut_extrude_7_tool1.solids().sort_by_distance((0, 16, 40))[0], mode=Mode.SUBTRACT)


solid = part.part
